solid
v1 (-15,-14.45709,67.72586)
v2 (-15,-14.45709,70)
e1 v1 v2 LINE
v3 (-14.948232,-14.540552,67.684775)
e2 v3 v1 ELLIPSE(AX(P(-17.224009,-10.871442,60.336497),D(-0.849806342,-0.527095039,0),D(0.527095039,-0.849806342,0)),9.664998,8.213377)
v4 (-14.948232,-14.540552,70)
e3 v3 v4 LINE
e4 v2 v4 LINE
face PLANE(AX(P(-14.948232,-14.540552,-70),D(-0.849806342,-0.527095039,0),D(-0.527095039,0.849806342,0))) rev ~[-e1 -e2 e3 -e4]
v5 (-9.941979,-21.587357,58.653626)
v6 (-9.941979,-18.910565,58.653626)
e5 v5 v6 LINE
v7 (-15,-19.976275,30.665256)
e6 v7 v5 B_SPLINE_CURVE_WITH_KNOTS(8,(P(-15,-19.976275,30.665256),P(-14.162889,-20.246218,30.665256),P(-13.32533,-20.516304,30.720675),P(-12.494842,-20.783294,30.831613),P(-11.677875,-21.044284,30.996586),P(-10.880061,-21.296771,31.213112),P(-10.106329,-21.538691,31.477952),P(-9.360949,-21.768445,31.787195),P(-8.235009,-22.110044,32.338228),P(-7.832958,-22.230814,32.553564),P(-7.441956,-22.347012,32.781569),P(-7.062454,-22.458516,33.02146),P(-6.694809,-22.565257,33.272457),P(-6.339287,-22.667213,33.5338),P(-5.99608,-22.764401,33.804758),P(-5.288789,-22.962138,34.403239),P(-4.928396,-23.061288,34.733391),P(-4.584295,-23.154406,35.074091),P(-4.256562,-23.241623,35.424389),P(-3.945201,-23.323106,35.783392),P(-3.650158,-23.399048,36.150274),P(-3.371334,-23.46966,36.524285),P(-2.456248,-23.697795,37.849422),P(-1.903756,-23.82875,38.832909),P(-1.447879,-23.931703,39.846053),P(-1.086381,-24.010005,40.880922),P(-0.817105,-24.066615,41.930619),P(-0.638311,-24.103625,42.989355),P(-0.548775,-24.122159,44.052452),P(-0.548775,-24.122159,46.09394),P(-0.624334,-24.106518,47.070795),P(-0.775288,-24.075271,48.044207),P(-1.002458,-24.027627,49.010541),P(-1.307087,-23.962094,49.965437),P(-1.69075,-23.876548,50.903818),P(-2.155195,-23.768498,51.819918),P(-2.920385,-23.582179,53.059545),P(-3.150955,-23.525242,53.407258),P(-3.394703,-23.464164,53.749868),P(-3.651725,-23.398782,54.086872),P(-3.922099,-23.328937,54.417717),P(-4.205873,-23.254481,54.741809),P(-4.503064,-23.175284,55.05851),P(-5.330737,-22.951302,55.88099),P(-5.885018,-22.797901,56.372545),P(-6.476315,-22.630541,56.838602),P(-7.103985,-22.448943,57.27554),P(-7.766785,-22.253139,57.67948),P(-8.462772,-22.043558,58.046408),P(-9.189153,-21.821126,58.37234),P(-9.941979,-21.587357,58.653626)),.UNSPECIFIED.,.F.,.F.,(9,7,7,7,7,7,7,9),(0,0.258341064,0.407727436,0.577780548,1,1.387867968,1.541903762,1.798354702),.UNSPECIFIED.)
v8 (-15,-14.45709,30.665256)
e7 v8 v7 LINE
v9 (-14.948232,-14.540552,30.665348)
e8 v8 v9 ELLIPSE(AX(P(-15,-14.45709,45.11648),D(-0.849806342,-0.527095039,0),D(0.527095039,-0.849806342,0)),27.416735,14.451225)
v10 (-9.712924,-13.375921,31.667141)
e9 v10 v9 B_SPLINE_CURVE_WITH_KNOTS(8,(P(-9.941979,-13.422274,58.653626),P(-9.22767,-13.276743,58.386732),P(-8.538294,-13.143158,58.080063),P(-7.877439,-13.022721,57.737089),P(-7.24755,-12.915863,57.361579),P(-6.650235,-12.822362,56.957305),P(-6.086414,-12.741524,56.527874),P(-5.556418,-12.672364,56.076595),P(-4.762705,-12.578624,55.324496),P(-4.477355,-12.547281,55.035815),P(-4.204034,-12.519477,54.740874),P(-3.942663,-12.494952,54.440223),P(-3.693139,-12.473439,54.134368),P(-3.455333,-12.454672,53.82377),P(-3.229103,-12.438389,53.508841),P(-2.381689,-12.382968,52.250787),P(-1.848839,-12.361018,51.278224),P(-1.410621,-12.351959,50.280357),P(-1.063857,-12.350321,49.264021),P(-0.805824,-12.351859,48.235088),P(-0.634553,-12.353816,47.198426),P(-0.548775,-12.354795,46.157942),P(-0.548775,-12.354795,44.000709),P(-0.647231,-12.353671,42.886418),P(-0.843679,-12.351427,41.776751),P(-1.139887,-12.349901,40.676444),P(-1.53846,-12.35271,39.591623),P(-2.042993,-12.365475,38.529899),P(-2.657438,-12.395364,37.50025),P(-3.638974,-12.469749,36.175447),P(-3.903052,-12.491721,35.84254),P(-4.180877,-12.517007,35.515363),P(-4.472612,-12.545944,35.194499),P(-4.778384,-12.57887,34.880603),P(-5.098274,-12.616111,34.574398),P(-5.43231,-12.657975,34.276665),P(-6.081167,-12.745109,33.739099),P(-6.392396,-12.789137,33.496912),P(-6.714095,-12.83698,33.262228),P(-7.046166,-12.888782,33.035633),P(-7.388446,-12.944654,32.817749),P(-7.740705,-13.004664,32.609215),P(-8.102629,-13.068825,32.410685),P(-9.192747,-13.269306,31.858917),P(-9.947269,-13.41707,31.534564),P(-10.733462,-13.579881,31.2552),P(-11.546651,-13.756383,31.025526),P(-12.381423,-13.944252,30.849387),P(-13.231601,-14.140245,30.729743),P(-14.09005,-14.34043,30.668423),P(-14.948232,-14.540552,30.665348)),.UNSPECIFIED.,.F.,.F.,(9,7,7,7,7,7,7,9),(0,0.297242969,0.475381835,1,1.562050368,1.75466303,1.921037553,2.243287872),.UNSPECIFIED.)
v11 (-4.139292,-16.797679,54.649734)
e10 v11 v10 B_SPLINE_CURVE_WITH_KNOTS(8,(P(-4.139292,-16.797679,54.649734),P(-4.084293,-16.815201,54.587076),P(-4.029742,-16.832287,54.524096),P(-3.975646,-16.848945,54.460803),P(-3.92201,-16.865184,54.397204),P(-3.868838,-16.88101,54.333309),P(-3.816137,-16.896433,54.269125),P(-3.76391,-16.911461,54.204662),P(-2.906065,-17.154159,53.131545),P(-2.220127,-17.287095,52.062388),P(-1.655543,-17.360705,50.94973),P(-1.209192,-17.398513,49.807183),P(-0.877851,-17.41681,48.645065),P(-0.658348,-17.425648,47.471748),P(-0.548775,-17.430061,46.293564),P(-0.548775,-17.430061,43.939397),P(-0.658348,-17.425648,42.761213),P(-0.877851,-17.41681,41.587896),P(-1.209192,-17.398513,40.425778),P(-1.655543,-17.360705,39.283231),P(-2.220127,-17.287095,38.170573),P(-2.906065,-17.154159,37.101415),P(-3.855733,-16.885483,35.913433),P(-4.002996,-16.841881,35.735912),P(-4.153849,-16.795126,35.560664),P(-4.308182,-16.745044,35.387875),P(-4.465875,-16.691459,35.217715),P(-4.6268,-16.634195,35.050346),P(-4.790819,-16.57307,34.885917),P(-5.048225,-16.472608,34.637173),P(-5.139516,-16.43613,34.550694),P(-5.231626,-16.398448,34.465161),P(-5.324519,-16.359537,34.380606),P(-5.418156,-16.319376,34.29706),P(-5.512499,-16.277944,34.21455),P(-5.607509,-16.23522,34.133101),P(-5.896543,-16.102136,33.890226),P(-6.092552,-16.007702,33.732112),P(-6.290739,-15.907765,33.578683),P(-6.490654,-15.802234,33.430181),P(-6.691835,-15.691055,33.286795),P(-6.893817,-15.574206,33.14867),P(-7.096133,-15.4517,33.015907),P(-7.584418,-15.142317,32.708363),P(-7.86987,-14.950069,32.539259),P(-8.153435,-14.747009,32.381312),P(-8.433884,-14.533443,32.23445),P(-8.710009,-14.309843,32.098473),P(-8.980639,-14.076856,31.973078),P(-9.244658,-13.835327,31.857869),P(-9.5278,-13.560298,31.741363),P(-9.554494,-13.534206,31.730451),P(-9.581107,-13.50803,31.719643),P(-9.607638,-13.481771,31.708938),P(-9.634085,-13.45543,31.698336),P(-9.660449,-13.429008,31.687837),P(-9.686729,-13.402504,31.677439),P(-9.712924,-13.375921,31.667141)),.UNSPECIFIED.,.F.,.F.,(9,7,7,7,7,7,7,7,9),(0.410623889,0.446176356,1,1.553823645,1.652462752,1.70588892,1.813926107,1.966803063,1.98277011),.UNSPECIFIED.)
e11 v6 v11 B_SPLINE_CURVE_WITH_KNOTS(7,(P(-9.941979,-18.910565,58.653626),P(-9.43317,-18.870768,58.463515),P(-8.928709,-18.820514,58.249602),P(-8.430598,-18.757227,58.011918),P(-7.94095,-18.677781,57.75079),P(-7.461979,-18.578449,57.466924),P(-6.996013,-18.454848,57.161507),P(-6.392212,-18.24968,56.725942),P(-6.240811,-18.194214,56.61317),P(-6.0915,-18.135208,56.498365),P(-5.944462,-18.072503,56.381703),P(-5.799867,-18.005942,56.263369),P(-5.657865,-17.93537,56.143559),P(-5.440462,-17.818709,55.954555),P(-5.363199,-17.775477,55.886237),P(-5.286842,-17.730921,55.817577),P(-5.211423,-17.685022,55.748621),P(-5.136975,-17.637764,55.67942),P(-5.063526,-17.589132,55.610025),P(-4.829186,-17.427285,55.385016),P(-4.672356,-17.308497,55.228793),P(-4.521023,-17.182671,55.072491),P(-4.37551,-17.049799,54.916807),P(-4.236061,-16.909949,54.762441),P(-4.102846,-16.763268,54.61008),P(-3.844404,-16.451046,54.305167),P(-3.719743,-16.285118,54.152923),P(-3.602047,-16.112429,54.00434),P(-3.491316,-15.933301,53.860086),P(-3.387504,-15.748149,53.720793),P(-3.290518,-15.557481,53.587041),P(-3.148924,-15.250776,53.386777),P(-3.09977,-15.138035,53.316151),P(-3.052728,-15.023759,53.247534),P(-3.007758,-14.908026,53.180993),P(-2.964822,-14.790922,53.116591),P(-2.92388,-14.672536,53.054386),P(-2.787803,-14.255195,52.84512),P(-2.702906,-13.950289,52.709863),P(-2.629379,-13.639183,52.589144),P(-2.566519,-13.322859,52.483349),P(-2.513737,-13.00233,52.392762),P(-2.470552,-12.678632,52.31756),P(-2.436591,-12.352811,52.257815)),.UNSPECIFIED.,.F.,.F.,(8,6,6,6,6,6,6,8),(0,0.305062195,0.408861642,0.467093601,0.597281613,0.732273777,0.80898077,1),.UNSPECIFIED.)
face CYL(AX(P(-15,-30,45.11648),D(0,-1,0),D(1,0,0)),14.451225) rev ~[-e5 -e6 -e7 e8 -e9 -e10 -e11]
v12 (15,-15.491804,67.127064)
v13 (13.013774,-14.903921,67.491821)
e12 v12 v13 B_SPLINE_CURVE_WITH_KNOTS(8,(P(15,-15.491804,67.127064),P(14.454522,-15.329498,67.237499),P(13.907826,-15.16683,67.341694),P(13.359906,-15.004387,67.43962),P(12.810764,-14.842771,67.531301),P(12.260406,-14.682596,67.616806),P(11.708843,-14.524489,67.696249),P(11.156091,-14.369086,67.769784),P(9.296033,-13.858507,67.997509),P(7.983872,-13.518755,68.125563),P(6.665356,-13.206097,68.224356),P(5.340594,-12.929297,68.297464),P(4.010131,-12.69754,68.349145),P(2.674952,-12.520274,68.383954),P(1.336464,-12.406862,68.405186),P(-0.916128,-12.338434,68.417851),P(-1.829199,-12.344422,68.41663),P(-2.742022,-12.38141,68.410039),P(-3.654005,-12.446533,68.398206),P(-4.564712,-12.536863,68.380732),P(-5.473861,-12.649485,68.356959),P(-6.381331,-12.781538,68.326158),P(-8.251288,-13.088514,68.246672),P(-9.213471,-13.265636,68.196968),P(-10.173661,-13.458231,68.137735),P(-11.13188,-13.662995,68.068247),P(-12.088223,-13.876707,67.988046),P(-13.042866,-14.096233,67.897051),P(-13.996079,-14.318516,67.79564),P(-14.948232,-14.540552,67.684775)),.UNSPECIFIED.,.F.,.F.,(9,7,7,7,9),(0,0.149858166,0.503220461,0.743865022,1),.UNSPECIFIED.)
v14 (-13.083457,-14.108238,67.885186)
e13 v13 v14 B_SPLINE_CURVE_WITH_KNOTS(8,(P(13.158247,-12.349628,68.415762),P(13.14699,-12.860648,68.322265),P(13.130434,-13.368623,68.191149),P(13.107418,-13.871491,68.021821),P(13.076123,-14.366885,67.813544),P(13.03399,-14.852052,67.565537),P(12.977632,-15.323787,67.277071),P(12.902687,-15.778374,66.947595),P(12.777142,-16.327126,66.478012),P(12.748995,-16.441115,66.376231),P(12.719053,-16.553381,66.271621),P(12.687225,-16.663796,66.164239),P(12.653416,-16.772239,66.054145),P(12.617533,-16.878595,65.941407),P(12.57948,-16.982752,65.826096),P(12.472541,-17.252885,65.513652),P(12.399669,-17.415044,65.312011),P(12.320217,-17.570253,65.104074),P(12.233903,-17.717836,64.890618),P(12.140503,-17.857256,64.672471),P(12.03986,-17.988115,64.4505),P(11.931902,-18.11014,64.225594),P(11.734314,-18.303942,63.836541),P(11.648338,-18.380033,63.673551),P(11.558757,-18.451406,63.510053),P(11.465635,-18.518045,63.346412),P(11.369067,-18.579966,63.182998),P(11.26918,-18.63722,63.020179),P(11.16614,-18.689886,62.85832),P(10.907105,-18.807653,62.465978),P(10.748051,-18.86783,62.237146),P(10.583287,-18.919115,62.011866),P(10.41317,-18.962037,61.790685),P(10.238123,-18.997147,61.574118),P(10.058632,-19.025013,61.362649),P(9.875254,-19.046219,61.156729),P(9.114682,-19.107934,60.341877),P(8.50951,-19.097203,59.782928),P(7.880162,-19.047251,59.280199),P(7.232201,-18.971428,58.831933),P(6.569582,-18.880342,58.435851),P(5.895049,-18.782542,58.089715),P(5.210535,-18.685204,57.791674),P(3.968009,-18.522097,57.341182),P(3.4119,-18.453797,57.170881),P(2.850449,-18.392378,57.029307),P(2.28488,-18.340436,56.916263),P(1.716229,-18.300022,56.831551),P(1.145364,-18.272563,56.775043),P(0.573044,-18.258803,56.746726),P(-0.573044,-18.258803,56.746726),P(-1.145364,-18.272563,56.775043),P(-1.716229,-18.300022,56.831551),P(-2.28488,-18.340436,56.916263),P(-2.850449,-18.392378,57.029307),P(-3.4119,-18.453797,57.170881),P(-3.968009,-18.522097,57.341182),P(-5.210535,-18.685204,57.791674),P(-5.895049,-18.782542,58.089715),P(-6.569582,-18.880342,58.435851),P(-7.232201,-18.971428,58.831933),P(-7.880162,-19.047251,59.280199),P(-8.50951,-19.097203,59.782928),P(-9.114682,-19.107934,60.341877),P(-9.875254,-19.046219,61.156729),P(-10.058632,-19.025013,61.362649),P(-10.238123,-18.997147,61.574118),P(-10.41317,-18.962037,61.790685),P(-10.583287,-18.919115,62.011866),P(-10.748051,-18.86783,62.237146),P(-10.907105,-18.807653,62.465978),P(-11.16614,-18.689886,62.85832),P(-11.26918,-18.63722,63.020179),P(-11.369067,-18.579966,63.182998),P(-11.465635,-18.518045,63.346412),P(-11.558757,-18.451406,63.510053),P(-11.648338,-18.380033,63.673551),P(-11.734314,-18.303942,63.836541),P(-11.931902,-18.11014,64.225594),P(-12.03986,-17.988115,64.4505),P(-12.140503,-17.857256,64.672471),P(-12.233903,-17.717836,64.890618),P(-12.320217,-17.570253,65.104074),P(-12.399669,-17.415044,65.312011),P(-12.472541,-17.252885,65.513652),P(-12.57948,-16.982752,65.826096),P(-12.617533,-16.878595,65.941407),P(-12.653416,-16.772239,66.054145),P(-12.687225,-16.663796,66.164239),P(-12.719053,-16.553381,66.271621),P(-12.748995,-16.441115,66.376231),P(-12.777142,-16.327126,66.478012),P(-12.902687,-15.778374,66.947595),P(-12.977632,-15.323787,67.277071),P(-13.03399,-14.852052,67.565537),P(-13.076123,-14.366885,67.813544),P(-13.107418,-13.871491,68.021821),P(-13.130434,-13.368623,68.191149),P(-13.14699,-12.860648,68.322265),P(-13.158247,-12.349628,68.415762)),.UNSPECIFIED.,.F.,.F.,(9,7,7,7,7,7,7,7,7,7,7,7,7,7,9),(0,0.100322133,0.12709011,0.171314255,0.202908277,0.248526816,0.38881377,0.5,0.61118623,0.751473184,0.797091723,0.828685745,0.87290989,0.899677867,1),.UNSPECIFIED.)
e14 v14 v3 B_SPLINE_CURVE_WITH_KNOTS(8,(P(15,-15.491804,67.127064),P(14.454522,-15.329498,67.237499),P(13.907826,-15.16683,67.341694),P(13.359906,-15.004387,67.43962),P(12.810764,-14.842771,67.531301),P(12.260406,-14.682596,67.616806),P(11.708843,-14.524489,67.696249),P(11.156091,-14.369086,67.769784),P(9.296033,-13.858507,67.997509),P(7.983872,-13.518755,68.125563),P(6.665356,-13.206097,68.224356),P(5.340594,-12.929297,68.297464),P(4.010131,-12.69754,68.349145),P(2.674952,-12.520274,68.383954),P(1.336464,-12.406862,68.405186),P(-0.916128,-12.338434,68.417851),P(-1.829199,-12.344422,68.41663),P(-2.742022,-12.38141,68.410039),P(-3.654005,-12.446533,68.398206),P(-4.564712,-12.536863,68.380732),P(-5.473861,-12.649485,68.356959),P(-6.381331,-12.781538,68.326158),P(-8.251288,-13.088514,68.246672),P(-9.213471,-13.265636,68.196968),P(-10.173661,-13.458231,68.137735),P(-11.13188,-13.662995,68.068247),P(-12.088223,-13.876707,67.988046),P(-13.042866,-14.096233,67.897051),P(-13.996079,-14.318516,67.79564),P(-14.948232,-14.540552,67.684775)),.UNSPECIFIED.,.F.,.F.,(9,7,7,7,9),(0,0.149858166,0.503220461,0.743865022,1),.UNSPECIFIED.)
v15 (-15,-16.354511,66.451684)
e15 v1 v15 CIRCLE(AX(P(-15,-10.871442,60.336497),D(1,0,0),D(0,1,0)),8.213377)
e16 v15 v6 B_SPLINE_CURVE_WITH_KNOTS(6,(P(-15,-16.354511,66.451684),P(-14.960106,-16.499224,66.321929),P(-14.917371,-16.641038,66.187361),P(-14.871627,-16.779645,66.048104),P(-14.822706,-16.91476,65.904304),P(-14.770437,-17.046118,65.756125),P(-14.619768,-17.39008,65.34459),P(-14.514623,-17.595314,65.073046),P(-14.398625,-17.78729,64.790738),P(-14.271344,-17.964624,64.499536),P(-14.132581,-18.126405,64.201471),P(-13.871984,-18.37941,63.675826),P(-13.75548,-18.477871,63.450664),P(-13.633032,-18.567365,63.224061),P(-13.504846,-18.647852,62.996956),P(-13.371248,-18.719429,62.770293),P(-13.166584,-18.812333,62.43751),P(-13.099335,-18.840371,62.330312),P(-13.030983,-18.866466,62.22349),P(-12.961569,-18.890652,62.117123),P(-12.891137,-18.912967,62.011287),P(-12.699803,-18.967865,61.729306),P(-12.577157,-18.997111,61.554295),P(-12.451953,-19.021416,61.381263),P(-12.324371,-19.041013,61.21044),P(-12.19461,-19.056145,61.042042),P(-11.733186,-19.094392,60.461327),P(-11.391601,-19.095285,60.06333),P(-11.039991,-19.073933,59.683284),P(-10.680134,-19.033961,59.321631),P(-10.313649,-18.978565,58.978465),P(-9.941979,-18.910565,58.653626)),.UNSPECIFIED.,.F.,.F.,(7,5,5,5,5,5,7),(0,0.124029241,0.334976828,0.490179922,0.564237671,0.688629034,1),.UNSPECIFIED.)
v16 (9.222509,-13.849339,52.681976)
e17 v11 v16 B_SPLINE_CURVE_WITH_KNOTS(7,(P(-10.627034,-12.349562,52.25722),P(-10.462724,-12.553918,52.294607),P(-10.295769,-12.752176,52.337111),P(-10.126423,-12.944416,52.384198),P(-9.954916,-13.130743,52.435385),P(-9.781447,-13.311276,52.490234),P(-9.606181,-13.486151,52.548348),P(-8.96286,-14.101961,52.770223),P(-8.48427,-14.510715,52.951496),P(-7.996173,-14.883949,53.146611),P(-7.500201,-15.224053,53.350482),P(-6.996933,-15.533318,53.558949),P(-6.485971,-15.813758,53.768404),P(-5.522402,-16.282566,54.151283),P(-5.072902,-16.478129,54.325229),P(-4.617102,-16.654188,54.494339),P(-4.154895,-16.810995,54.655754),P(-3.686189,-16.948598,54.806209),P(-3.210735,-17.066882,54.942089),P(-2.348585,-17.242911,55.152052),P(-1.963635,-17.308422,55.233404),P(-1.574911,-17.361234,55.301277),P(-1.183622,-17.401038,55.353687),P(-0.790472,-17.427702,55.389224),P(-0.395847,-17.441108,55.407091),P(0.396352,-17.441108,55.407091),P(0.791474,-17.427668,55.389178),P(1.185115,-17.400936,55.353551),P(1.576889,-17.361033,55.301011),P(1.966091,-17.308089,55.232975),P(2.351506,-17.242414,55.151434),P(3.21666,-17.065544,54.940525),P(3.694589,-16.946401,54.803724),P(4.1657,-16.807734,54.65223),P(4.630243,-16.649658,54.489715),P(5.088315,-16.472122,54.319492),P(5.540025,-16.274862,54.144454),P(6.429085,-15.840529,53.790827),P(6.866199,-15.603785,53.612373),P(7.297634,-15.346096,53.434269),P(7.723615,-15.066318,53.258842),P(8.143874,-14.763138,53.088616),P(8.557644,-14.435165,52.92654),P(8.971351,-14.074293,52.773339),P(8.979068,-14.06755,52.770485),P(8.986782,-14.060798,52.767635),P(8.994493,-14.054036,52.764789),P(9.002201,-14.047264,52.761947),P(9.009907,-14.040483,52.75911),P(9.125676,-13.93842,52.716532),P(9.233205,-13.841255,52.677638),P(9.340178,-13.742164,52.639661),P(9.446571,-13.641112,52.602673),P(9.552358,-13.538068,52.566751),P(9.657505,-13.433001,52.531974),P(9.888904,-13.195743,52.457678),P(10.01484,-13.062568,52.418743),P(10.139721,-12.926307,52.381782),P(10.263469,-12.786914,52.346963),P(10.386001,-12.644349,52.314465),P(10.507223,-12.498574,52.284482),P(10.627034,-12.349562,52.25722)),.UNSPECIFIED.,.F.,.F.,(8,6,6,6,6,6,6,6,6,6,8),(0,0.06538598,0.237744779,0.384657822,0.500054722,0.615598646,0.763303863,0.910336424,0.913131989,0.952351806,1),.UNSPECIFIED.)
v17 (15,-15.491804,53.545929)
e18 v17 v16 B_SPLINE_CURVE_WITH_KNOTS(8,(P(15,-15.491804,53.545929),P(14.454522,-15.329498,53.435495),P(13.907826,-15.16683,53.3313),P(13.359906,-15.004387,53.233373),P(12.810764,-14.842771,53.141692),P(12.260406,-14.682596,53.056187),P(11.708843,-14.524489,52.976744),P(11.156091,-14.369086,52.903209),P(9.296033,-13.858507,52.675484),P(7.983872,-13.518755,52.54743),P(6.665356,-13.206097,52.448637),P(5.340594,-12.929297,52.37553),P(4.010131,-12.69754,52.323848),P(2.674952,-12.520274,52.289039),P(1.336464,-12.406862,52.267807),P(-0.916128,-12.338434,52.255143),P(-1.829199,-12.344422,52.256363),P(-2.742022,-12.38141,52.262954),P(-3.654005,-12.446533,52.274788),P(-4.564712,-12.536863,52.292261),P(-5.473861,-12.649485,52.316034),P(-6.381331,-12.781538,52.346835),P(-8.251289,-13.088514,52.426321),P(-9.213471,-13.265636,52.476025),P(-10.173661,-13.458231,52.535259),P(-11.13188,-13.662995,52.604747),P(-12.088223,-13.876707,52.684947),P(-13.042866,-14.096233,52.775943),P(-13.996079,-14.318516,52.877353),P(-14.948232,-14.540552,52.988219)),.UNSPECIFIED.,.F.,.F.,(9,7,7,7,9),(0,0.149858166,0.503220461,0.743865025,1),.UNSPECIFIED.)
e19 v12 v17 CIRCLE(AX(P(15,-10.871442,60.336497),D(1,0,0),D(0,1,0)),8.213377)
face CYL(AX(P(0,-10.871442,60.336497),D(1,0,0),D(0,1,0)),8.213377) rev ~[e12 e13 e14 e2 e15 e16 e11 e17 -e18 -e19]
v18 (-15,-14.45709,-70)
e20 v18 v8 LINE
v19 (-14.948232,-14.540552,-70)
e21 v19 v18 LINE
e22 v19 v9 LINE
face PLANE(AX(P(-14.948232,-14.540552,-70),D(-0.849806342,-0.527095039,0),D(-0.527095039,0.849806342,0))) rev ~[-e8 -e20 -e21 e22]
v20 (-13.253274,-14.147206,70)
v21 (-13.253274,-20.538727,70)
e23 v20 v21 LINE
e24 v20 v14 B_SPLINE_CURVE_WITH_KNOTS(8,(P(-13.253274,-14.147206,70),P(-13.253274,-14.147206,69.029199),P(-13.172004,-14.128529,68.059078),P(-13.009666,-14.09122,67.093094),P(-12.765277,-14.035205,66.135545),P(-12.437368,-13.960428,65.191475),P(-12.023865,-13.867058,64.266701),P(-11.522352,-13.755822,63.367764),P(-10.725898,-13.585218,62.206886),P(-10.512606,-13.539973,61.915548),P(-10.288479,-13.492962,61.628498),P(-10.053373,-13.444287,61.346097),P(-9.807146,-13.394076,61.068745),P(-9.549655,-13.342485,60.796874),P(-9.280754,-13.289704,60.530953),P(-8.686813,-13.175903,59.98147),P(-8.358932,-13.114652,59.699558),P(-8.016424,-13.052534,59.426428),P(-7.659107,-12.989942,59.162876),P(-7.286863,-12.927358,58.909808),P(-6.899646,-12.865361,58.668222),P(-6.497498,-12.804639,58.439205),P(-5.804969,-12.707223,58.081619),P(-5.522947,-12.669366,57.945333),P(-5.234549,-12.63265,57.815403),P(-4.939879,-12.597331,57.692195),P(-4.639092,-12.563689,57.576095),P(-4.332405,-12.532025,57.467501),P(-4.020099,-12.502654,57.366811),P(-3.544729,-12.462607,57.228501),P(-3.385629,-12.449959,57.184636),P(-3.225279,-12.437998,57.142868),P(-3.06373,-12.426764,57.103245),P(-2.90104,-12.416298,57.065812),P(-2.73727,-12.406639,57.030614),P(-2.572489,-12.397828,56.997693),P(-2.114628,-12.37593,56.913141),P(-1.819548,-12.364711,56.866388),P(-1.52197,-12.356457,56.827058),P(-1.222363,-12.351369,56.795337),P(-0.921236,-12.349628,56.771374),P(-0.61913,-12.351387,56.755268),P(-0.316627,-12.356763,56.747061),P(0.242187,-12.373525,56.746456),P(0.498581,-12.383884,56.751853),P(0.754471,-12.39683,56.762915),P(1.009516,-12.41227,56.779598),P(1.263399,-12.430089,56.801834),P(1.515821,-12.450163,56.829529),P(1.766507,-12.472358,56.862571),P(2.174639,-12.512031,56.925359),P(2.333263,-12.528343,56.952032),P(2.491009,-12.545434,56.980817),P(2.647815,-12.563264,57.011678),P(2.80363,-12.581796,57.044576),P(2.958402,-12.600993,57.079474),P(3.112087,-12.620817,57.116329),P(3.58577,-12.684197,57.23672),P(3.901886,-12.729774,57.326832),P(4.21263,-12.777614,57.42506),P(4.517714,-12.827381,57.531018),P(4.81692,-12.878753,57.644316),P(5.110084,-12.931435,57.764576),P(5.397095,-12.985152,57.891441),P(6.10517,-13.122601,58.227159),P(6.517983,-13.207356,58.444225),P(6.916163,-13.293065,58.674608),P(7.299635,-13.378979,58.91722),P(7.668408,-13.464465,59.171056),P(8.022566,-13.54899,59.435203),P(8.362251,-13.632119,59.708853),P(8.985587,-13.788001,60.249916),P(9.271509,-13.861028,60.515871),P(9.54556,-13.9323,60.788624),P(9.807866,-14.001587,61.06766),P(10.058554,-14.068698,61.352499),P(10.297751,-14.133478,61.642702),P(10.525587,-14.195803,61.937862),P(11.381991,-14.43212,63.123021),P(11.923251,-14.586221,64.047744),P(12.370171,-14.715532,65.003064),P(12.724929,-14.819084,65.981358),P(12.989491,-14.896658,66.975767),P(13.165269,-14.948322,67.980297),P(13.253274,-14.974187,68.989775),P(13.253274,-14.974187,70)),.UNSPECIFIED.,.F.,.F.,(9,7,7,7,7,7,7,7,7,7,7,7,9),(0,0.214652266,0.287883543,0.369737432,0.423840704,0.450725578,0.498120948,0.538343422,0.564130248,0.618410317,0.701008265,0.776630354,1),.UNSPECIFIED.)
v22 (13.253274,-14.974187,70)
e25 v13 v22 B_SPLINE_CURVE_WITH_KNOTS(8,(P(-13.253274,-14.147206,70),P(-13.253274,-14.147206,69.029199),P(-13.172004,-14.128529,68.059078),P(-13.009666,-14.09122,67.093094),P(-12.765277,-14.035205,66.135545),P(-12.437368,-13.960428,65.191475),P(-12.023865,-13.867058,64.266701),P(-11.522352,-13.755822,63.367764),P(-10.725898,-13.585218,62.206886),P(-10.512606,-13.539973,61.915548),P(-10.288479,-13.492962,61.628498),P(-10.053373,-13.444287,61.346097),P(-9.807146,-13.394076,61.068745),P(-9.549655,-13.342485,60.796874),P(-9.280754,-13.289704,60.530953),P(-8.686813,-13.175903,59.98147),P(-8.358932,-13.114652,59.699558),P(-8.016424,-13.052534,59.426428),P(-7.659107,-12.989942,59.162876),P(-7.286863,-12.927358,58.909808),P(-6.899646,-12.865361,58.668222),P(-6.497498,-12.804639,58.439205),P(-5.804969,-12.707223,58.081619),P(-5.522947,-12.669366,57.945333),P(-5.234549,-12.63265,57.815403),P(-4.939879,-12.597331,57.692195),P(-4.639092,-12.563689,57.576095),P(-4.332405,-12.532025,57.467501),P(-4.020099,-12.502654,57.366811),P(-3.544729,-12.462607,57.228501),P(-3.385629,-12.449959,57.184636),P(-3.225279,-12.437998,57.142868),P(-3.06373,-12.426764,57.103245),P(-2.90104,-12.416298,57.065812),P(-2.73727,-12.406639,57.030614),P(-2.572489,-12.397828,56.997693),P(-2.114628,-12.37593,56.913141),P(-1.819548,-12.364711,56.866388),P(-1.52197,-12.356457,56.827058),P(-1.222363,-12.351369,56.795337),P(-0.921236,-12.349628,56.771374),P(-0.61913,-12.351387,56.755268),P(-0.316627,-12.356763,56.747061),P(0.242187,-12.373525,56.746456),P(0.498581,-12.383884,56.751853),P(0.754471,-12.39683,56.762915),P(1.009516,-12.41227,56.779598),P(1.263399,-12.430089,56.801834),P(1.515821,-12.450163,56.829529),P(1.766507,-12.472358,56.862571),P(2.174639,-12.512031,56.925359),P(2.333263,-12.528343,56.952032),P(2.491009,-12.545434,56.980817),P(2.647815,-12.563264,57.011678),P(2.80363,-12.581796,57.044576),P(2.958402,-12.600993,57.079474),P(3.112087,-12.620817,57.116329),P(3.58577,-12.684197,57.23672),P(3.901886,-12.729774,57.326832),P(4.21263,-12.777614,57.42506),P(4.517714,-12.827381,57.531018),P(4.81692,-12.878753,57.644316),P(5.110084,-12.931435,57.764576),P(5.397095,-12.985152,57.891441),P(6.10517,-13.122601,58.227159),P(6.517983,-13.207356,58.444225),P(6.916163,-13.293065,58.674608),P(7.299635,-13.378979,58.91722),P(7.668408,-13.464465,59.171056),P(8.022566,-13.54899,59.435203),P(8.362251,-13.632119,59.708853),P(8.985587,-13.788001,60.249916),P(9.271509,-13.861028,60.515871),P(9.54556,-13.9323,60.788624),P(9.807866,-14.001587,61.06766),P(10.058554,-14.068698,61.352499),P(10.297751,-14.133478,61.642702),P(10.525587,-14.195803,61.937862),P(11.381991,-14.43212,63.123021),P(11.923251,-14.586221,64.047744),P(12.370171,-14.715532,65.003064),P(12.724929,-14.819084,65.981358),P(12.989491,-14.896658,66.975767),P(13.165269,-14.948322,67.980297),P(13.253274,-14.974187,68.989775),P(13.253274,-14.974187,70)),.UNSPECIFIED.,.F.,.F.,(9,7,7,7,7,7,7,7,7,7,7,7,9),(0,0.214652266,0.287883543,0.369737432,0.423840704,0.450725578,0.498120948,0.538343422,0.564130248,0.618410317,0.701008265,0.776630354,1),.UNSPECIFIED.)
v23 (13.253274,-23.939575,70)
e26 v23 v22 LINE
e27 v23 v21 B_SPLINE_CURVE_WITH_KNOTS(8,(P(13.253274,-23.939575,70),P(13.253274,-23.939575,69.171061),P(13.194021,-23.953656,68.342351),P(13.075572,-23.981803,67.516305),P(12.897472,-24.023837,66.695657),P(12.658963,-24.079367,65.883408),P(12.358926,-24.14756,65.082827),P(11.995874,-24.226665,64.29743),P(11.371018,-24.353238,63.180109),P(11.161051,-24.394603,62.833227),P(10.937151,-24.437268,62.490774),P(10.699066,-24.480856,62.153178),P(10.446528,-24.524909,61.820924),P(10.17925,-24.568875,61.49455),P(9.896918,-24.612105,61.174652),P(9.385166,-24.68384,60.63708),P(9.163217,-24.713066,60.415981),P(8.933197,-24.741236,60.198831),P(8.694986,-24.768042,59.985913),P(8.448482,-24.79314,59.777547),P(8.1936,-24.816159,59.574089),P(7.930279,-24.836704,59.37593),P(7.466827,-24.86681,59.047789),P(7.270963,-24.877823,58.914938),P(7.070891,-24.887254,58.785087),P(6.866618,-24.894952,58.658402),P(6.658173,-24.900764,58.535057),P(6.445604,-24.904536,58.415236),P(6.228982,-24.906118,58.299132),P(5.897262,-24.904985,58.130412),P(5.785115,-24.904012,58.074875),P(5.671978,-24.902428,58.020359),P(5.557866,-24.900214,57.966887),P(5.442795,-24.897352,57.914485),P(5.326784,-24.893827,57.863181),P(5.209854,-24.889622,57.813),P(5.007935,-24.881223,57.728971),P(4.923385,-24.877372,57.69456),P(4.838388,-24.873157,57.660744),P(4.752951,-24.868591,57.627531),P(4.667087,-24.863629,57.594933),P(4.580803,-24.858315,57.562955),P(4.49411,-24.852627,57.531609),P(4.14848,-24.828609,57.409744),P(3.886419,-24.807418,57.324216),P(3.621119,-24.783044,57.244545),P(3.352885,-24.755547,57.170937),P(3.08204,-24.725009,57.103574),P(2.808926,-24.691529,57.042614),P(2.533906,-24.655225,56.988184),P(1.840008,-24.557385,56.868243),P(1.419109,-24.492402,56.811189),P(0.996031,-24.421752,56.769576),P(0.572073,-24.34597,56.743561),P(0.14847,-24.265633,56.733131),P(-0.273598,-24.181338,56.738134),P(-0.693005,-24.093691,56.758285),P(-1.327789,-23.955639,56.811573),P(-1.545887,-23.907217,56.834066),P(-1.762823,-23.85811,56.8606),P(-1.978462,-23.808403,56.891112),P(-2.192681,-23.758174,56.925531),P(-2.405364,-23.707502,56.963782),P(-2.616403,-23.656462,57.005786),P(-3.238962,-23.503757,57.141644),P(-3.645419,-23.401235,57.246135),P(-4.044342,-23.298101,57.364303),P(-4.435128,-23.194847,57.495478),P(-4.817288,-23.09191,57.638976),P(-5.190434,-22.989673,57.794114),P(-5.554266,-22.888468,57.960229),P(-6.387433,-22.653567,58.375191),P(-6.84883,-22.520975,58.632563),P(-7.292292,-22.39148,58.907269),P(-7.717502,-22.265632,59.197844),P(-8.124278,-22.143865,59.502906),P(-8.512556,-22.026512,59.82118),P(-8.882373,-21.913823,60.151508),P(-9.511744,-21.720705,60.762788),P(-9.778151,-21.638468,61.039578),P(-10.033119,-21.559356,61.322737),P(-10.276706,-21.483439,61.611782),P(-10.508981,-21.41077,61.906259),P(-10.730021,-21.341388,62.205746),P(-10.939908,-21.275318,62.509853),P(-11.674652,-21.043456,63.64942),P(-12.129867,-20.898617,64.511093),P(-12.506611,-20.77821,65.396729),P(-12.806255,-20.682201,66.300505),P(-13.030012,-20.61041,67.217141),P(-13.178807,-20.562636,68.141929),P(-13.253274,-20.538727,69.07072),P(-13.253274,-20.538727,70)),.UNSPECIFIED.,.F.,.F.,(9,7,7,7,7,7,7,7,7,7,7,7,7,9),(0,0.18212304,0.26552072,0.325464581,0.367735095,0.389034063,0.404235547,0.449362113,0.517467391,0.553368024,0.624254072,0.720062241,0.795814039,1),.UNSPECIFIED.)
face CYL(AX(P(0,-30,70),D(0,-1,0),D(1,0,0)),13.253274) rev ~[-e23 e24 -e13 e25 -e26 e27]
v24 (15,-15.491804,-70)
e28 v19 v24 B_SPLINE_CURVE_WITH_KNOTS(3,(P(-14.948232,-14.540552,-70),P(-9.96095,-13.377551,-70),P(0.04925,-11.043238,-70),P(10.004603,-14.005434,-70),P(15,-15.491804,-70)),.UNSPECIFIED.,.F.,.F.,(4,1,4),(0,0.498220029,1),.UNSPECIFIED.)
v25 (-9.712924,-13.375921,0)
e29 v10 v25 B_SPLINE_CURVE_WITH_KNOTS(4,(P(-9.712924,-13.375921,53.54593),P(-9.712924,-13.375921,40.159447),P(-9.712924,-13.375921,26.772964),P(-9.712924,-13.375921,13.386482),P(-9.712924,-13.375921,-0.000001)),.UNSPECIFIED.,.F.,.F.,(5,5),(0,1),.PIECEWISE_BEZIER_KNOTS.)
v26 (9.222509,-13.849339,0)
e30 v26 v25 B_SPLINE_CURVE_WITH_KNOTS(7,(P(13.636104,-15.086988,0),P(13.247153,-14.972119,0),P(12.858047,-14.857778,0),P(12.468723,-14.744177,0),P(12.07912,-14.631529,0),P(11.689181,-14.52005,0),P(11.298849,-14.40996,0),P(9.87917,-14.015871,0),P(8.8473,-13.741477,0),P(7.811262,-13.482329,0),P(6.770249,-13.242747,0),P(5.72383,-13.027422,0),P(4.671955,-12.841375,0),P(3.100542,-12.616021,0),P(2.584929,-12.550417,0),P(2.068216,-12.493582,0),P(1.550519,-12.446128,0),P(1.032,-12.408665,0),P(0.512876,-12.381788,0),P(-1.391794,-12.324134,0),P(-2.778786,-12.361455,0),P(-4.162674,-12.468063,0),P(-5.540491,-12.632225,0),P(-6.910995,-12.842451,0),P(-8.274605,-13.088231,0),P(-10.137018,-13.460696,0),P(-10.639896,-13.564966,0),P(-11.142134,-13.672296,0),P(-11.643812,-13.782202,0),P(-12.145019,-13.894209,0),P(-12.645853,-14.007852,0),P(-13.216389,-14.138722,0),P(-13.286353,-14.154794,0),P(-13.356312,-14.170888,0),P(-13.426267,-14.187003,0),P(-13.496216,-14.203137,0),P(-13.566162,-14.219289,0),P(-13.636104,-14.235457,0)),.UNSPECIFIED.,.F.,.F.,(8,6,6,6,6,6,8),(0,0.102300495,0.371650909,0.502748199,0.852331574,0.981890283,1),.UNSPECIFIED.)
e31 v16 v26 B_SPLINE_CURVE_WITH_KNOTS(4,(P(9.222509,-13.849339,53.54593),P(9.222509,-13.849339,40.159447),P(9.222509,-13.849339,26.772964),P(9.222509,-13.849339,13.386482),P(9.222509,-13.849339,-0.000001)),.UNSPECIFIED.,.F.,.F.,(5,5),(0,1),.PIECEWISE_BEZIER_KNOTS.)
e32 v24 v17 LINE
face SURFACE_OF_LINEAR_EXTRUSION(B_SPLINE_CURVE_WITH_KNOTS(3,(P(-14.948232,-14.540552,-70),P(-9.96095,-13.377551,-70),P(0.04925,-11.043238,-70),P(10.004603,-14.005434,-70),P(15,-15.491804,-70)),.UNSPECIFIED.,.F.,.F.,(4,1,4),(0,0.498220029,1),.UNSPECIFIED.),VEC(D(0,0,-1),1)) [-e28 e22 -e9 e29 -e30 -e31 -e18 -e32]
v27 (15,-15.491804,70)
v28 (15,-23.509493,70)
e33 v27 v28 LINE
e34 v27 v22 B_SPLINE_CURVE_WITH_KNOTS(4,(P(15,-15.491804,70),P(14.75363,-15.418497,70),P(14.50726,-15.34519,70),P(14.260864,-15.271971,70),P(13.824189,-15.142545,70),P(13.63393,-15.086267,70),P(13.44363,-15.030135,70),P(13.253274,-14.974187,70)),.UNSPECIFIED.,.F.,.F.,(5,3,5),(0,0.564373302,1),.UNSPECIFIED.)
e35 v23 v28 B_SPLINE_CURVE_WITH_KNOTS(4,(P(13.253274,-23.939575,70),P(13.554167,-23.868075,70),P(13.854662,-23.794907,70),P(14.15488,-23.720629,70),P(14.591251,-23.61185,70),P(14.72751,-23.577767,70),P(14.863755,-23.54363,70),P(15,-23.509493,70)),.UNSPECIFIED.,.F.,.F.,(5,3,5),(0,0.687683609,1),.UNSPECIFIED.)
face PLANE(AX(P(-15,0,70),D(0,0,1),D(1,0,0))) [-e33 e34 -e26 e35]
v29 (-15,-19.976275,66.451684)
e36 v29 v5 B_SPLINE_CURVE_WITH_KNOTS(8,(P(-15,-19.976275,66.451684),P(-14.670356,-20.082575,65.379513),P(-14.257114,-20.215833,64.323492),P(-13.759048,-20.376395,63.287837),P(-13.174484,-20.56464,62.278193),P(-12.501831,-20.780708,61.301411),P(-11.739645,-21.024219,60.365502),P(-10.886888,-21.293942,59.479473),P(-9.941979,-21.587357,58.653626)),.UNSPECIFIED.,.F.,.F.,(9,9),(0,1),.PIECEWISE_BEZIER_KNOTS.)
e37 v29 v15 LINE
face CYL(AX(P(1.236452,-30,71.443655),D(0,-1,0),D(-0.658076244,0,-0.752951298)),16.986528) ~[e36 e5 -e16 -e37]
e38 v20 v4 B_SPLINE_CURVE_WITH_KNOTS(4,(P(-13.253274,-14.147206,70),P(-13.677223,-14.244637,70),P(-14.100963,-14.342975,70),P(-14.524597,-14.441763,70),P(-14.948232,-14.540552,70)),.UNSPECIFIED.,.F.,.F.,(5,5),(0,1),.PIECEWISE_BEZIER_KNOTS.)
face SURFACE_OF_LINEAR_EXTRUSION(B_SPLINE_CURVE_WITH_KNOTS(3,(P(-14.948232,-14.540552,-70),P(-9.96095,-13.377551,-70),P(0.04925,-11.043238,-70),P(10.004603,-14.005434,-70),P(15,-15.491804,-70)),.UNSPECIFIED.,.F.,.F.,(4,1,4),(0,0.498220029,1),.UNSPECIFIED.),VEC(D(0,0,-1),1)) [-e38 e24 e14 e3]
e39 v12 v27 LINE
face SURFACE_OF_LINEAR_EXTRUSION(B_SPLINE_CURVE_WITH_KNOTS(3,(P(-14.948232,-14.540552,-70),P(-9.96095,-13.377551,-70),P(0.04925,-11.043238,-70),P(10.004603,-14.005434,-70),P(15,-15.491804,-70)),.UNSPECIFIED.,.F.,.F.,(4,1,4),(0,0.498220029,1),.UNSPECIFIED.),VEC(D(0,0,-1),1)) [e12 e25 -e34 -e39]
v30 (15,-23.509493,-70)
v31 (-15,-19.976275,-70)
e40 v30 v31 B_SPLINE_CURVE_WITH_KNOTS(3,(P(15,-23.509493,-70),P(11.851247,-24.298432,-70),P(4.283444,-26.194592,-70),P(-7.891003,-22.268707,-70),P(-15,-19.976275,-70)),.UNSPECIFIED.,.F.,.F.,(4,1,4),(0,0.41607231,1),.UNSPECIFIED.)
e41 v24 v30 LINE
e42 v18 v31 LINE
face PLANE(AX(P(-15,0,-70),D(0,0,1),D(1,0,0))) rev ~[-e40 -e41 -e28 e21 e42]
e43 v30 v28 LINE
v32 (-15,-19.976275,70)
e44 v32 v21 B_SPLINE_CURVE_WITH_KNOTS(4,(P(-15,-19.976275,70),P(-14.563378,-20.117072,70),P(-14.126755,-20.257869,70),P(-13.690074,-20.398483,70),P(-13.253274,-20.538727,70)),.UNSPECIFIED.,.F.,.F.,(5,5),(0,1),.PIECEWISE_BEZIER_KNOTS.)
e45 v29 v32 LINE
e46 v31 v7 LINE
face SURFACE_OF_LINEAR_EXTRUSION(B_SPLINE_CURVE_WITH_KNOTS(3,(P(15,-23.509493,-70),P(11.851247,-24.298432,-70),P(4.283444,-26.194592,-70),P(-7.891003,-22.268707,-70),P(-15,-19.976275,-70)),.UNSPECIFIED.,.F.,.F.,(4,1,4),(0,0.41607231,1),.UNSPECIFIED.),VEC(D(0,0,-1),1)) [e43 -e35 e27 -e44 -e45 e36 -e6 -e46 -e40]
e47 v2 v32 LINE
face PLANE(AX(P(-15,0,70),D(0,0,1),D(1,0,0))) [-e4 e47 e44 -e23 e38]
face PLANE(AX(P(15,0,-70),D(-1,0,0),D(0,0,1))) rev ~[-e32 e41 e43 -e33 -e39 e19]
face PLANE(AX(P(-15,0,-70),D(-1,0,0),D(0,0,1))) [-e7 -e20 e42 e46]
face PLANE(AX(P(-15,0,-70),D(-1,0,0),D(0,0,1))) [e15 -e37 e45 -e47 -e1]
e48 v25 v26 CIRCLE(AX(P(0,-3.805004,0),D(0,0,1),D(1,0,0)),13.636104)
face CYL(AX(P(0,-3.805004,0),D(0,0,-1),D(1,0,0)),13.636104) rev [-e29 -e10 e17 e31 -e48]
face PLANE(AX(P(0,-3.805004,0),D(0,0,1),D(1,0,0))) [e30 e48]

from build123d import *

# Parameters (mm, degrees)
F0_W      = 30
F0_H      = 140
F1_DEPTH  = 30
F2_R      = 13.2532741624
F3_DEPTH  = 54.4
F4_R      = 14.451224753
F5_DEPTH  = 128.1
F7_DEPTH  = 70.9
F9_DEPTH  = 175.5
F11_DEPTH = 153.2
F12_R     = 8.2133766701
F13_DEPTH = 33.1
F14_R     = 13.6361041186
F15_DEPTH = 73.6


with BuildPart() as f1:
    # F0 (on Front) → F1 (new body)
    with BuildSketch(Plane.XZ):
        Rectangle(F0_W, F0_H)
    extrude(amount=F1_DEPTH)

    # F2 (on face) → F3 (cut)
    with BuildSketch(Plane.XZ.offset(30)):
        with Locations((0, 70)):
            Circle(F2_R)
    extrude(amount=-F3_DEPTH, mode=Mode.SUBTRACT)

    # F4 (on face) → F5 (cut)
    with BuildSketch(Plane.XZ.offset(30)):
        with Locations((-15, 45.1164804399)):
            Circle(F4_R)
    extrude(amount=-F5_DEPTH, mode=Mode.SUBTRACT)

    # F6 (on face) → F7 (cut)
    with BuildSketch(Plane.XZ.offset(30)):
        with BuildLine():
            ThreePointArc((-9.9419789308, 58.6536263624), (-13.0147365818, 62.199966598), (-15, 66.4516836405))
            Line((-15, 66.4516836405), (-21.4710962027, 59.249356389))
            Line((-21.4710962027, 59.249356389), (-15, 55.8520294726))
            Line((-15, 55.8520294726), (-9.9419789308, 58.6536263624))
        make_face()
    extrude(amount=-F7_DEPTH, mode=Mode.SUBTRACT)

    # F8 (on face) → F9 (cut)
    with BuildSketch(Plane(origin=(0, 0, -70), x_dir=(1, 0, 0), z_dir=(0, 0, -1))):
        with BuildLine():
            add(Edge.make_bspline(
                [(15, 23.5094930977), (11.8512469004, 24.2984324234), (4.2834443272, 26.1945915921), (-7.8910030615, 22.2687074811), (-15, 19.9762750417)],
                knots=[0, 0, 0, 0, 0.4160723102, 1, 1, 1, 1], degree=3))
            Line((15, 23.5094930977), (15, 30))
            Line((15, 30), (-15, 30))
            Line((-15, 30), (-15, 19.9762750417))
        make_face()
        Polygon((15, 30), (15, 23.5094930977), (28.6734271795, 27.3144952953), (25.2801995763, 39.5081940436), (-18.2096641511, 41.3114763796), (-27.3144952953, 36.9629003108), (-15, 19.9762750417), (-15, 30), align=None)
    extrude(amount=-F9_DEPTH, mode=Mode.SUBTRACT)

    # F10 (on face) → F11 (cut)
    with BuildSketch(Plane(origin=(0, 0, -70), x_dir=(1, 0, 0), z_dir=(0, 0, -1))):
        with BuildLine():
            add(Edge.make_bspline(
                [(-14.9482320994, 14.5405521616), (-9.960949986, 13.377550706), (0.0492499744, 11.0432377754), (10.004603164, 14.0054335818), (15, 15.491804108)],
                knots=[0, 0, 0, 0, 0.4982200289, 1, 1, 1, 1], degree=3))
            Line((-14.9482320994, 14.5405521616), (-15, 14.4570896226))
            Line((-15, 14.4570896226), (-15, 0))
            Line((-15, 0), (15, 0))
            Line((15, 0), (15, 15.491804108))
        make_face()
        Polygon((25.2761021256, 14.4046600908), (15, 15.491804108), (15, 0), (-15, 0), (-15, 14.4570896226), (-21.6069892049, 3.8050042931), (-17.8019851446, -5.2743439193), (23.1941929335, -5.2743439193), align=None)
    extrude(amount=-F11_DEPTH, mode=Mode.SUBTRACT)

    # F12 (on Right) → F13 (cut, symmetric)
    with BuildSketch(Plane.YZ):
        with Locations((-10.8714420348, 60.336496681)):
            Circle(F12_R)
    extrude(amount=F13_DEPTH, both=True, mode=Mode.SUBTRACT)

    # F14 (on Top) → F15 (cut)
    with BuildSketch(Plane.XY):
        with Locations((0, -3.8050042931)):
            Circle(F14_R)
    extrude(amount=F15_DEPTH, mode=Mode.SUBTRACT)


solid = f1.part
